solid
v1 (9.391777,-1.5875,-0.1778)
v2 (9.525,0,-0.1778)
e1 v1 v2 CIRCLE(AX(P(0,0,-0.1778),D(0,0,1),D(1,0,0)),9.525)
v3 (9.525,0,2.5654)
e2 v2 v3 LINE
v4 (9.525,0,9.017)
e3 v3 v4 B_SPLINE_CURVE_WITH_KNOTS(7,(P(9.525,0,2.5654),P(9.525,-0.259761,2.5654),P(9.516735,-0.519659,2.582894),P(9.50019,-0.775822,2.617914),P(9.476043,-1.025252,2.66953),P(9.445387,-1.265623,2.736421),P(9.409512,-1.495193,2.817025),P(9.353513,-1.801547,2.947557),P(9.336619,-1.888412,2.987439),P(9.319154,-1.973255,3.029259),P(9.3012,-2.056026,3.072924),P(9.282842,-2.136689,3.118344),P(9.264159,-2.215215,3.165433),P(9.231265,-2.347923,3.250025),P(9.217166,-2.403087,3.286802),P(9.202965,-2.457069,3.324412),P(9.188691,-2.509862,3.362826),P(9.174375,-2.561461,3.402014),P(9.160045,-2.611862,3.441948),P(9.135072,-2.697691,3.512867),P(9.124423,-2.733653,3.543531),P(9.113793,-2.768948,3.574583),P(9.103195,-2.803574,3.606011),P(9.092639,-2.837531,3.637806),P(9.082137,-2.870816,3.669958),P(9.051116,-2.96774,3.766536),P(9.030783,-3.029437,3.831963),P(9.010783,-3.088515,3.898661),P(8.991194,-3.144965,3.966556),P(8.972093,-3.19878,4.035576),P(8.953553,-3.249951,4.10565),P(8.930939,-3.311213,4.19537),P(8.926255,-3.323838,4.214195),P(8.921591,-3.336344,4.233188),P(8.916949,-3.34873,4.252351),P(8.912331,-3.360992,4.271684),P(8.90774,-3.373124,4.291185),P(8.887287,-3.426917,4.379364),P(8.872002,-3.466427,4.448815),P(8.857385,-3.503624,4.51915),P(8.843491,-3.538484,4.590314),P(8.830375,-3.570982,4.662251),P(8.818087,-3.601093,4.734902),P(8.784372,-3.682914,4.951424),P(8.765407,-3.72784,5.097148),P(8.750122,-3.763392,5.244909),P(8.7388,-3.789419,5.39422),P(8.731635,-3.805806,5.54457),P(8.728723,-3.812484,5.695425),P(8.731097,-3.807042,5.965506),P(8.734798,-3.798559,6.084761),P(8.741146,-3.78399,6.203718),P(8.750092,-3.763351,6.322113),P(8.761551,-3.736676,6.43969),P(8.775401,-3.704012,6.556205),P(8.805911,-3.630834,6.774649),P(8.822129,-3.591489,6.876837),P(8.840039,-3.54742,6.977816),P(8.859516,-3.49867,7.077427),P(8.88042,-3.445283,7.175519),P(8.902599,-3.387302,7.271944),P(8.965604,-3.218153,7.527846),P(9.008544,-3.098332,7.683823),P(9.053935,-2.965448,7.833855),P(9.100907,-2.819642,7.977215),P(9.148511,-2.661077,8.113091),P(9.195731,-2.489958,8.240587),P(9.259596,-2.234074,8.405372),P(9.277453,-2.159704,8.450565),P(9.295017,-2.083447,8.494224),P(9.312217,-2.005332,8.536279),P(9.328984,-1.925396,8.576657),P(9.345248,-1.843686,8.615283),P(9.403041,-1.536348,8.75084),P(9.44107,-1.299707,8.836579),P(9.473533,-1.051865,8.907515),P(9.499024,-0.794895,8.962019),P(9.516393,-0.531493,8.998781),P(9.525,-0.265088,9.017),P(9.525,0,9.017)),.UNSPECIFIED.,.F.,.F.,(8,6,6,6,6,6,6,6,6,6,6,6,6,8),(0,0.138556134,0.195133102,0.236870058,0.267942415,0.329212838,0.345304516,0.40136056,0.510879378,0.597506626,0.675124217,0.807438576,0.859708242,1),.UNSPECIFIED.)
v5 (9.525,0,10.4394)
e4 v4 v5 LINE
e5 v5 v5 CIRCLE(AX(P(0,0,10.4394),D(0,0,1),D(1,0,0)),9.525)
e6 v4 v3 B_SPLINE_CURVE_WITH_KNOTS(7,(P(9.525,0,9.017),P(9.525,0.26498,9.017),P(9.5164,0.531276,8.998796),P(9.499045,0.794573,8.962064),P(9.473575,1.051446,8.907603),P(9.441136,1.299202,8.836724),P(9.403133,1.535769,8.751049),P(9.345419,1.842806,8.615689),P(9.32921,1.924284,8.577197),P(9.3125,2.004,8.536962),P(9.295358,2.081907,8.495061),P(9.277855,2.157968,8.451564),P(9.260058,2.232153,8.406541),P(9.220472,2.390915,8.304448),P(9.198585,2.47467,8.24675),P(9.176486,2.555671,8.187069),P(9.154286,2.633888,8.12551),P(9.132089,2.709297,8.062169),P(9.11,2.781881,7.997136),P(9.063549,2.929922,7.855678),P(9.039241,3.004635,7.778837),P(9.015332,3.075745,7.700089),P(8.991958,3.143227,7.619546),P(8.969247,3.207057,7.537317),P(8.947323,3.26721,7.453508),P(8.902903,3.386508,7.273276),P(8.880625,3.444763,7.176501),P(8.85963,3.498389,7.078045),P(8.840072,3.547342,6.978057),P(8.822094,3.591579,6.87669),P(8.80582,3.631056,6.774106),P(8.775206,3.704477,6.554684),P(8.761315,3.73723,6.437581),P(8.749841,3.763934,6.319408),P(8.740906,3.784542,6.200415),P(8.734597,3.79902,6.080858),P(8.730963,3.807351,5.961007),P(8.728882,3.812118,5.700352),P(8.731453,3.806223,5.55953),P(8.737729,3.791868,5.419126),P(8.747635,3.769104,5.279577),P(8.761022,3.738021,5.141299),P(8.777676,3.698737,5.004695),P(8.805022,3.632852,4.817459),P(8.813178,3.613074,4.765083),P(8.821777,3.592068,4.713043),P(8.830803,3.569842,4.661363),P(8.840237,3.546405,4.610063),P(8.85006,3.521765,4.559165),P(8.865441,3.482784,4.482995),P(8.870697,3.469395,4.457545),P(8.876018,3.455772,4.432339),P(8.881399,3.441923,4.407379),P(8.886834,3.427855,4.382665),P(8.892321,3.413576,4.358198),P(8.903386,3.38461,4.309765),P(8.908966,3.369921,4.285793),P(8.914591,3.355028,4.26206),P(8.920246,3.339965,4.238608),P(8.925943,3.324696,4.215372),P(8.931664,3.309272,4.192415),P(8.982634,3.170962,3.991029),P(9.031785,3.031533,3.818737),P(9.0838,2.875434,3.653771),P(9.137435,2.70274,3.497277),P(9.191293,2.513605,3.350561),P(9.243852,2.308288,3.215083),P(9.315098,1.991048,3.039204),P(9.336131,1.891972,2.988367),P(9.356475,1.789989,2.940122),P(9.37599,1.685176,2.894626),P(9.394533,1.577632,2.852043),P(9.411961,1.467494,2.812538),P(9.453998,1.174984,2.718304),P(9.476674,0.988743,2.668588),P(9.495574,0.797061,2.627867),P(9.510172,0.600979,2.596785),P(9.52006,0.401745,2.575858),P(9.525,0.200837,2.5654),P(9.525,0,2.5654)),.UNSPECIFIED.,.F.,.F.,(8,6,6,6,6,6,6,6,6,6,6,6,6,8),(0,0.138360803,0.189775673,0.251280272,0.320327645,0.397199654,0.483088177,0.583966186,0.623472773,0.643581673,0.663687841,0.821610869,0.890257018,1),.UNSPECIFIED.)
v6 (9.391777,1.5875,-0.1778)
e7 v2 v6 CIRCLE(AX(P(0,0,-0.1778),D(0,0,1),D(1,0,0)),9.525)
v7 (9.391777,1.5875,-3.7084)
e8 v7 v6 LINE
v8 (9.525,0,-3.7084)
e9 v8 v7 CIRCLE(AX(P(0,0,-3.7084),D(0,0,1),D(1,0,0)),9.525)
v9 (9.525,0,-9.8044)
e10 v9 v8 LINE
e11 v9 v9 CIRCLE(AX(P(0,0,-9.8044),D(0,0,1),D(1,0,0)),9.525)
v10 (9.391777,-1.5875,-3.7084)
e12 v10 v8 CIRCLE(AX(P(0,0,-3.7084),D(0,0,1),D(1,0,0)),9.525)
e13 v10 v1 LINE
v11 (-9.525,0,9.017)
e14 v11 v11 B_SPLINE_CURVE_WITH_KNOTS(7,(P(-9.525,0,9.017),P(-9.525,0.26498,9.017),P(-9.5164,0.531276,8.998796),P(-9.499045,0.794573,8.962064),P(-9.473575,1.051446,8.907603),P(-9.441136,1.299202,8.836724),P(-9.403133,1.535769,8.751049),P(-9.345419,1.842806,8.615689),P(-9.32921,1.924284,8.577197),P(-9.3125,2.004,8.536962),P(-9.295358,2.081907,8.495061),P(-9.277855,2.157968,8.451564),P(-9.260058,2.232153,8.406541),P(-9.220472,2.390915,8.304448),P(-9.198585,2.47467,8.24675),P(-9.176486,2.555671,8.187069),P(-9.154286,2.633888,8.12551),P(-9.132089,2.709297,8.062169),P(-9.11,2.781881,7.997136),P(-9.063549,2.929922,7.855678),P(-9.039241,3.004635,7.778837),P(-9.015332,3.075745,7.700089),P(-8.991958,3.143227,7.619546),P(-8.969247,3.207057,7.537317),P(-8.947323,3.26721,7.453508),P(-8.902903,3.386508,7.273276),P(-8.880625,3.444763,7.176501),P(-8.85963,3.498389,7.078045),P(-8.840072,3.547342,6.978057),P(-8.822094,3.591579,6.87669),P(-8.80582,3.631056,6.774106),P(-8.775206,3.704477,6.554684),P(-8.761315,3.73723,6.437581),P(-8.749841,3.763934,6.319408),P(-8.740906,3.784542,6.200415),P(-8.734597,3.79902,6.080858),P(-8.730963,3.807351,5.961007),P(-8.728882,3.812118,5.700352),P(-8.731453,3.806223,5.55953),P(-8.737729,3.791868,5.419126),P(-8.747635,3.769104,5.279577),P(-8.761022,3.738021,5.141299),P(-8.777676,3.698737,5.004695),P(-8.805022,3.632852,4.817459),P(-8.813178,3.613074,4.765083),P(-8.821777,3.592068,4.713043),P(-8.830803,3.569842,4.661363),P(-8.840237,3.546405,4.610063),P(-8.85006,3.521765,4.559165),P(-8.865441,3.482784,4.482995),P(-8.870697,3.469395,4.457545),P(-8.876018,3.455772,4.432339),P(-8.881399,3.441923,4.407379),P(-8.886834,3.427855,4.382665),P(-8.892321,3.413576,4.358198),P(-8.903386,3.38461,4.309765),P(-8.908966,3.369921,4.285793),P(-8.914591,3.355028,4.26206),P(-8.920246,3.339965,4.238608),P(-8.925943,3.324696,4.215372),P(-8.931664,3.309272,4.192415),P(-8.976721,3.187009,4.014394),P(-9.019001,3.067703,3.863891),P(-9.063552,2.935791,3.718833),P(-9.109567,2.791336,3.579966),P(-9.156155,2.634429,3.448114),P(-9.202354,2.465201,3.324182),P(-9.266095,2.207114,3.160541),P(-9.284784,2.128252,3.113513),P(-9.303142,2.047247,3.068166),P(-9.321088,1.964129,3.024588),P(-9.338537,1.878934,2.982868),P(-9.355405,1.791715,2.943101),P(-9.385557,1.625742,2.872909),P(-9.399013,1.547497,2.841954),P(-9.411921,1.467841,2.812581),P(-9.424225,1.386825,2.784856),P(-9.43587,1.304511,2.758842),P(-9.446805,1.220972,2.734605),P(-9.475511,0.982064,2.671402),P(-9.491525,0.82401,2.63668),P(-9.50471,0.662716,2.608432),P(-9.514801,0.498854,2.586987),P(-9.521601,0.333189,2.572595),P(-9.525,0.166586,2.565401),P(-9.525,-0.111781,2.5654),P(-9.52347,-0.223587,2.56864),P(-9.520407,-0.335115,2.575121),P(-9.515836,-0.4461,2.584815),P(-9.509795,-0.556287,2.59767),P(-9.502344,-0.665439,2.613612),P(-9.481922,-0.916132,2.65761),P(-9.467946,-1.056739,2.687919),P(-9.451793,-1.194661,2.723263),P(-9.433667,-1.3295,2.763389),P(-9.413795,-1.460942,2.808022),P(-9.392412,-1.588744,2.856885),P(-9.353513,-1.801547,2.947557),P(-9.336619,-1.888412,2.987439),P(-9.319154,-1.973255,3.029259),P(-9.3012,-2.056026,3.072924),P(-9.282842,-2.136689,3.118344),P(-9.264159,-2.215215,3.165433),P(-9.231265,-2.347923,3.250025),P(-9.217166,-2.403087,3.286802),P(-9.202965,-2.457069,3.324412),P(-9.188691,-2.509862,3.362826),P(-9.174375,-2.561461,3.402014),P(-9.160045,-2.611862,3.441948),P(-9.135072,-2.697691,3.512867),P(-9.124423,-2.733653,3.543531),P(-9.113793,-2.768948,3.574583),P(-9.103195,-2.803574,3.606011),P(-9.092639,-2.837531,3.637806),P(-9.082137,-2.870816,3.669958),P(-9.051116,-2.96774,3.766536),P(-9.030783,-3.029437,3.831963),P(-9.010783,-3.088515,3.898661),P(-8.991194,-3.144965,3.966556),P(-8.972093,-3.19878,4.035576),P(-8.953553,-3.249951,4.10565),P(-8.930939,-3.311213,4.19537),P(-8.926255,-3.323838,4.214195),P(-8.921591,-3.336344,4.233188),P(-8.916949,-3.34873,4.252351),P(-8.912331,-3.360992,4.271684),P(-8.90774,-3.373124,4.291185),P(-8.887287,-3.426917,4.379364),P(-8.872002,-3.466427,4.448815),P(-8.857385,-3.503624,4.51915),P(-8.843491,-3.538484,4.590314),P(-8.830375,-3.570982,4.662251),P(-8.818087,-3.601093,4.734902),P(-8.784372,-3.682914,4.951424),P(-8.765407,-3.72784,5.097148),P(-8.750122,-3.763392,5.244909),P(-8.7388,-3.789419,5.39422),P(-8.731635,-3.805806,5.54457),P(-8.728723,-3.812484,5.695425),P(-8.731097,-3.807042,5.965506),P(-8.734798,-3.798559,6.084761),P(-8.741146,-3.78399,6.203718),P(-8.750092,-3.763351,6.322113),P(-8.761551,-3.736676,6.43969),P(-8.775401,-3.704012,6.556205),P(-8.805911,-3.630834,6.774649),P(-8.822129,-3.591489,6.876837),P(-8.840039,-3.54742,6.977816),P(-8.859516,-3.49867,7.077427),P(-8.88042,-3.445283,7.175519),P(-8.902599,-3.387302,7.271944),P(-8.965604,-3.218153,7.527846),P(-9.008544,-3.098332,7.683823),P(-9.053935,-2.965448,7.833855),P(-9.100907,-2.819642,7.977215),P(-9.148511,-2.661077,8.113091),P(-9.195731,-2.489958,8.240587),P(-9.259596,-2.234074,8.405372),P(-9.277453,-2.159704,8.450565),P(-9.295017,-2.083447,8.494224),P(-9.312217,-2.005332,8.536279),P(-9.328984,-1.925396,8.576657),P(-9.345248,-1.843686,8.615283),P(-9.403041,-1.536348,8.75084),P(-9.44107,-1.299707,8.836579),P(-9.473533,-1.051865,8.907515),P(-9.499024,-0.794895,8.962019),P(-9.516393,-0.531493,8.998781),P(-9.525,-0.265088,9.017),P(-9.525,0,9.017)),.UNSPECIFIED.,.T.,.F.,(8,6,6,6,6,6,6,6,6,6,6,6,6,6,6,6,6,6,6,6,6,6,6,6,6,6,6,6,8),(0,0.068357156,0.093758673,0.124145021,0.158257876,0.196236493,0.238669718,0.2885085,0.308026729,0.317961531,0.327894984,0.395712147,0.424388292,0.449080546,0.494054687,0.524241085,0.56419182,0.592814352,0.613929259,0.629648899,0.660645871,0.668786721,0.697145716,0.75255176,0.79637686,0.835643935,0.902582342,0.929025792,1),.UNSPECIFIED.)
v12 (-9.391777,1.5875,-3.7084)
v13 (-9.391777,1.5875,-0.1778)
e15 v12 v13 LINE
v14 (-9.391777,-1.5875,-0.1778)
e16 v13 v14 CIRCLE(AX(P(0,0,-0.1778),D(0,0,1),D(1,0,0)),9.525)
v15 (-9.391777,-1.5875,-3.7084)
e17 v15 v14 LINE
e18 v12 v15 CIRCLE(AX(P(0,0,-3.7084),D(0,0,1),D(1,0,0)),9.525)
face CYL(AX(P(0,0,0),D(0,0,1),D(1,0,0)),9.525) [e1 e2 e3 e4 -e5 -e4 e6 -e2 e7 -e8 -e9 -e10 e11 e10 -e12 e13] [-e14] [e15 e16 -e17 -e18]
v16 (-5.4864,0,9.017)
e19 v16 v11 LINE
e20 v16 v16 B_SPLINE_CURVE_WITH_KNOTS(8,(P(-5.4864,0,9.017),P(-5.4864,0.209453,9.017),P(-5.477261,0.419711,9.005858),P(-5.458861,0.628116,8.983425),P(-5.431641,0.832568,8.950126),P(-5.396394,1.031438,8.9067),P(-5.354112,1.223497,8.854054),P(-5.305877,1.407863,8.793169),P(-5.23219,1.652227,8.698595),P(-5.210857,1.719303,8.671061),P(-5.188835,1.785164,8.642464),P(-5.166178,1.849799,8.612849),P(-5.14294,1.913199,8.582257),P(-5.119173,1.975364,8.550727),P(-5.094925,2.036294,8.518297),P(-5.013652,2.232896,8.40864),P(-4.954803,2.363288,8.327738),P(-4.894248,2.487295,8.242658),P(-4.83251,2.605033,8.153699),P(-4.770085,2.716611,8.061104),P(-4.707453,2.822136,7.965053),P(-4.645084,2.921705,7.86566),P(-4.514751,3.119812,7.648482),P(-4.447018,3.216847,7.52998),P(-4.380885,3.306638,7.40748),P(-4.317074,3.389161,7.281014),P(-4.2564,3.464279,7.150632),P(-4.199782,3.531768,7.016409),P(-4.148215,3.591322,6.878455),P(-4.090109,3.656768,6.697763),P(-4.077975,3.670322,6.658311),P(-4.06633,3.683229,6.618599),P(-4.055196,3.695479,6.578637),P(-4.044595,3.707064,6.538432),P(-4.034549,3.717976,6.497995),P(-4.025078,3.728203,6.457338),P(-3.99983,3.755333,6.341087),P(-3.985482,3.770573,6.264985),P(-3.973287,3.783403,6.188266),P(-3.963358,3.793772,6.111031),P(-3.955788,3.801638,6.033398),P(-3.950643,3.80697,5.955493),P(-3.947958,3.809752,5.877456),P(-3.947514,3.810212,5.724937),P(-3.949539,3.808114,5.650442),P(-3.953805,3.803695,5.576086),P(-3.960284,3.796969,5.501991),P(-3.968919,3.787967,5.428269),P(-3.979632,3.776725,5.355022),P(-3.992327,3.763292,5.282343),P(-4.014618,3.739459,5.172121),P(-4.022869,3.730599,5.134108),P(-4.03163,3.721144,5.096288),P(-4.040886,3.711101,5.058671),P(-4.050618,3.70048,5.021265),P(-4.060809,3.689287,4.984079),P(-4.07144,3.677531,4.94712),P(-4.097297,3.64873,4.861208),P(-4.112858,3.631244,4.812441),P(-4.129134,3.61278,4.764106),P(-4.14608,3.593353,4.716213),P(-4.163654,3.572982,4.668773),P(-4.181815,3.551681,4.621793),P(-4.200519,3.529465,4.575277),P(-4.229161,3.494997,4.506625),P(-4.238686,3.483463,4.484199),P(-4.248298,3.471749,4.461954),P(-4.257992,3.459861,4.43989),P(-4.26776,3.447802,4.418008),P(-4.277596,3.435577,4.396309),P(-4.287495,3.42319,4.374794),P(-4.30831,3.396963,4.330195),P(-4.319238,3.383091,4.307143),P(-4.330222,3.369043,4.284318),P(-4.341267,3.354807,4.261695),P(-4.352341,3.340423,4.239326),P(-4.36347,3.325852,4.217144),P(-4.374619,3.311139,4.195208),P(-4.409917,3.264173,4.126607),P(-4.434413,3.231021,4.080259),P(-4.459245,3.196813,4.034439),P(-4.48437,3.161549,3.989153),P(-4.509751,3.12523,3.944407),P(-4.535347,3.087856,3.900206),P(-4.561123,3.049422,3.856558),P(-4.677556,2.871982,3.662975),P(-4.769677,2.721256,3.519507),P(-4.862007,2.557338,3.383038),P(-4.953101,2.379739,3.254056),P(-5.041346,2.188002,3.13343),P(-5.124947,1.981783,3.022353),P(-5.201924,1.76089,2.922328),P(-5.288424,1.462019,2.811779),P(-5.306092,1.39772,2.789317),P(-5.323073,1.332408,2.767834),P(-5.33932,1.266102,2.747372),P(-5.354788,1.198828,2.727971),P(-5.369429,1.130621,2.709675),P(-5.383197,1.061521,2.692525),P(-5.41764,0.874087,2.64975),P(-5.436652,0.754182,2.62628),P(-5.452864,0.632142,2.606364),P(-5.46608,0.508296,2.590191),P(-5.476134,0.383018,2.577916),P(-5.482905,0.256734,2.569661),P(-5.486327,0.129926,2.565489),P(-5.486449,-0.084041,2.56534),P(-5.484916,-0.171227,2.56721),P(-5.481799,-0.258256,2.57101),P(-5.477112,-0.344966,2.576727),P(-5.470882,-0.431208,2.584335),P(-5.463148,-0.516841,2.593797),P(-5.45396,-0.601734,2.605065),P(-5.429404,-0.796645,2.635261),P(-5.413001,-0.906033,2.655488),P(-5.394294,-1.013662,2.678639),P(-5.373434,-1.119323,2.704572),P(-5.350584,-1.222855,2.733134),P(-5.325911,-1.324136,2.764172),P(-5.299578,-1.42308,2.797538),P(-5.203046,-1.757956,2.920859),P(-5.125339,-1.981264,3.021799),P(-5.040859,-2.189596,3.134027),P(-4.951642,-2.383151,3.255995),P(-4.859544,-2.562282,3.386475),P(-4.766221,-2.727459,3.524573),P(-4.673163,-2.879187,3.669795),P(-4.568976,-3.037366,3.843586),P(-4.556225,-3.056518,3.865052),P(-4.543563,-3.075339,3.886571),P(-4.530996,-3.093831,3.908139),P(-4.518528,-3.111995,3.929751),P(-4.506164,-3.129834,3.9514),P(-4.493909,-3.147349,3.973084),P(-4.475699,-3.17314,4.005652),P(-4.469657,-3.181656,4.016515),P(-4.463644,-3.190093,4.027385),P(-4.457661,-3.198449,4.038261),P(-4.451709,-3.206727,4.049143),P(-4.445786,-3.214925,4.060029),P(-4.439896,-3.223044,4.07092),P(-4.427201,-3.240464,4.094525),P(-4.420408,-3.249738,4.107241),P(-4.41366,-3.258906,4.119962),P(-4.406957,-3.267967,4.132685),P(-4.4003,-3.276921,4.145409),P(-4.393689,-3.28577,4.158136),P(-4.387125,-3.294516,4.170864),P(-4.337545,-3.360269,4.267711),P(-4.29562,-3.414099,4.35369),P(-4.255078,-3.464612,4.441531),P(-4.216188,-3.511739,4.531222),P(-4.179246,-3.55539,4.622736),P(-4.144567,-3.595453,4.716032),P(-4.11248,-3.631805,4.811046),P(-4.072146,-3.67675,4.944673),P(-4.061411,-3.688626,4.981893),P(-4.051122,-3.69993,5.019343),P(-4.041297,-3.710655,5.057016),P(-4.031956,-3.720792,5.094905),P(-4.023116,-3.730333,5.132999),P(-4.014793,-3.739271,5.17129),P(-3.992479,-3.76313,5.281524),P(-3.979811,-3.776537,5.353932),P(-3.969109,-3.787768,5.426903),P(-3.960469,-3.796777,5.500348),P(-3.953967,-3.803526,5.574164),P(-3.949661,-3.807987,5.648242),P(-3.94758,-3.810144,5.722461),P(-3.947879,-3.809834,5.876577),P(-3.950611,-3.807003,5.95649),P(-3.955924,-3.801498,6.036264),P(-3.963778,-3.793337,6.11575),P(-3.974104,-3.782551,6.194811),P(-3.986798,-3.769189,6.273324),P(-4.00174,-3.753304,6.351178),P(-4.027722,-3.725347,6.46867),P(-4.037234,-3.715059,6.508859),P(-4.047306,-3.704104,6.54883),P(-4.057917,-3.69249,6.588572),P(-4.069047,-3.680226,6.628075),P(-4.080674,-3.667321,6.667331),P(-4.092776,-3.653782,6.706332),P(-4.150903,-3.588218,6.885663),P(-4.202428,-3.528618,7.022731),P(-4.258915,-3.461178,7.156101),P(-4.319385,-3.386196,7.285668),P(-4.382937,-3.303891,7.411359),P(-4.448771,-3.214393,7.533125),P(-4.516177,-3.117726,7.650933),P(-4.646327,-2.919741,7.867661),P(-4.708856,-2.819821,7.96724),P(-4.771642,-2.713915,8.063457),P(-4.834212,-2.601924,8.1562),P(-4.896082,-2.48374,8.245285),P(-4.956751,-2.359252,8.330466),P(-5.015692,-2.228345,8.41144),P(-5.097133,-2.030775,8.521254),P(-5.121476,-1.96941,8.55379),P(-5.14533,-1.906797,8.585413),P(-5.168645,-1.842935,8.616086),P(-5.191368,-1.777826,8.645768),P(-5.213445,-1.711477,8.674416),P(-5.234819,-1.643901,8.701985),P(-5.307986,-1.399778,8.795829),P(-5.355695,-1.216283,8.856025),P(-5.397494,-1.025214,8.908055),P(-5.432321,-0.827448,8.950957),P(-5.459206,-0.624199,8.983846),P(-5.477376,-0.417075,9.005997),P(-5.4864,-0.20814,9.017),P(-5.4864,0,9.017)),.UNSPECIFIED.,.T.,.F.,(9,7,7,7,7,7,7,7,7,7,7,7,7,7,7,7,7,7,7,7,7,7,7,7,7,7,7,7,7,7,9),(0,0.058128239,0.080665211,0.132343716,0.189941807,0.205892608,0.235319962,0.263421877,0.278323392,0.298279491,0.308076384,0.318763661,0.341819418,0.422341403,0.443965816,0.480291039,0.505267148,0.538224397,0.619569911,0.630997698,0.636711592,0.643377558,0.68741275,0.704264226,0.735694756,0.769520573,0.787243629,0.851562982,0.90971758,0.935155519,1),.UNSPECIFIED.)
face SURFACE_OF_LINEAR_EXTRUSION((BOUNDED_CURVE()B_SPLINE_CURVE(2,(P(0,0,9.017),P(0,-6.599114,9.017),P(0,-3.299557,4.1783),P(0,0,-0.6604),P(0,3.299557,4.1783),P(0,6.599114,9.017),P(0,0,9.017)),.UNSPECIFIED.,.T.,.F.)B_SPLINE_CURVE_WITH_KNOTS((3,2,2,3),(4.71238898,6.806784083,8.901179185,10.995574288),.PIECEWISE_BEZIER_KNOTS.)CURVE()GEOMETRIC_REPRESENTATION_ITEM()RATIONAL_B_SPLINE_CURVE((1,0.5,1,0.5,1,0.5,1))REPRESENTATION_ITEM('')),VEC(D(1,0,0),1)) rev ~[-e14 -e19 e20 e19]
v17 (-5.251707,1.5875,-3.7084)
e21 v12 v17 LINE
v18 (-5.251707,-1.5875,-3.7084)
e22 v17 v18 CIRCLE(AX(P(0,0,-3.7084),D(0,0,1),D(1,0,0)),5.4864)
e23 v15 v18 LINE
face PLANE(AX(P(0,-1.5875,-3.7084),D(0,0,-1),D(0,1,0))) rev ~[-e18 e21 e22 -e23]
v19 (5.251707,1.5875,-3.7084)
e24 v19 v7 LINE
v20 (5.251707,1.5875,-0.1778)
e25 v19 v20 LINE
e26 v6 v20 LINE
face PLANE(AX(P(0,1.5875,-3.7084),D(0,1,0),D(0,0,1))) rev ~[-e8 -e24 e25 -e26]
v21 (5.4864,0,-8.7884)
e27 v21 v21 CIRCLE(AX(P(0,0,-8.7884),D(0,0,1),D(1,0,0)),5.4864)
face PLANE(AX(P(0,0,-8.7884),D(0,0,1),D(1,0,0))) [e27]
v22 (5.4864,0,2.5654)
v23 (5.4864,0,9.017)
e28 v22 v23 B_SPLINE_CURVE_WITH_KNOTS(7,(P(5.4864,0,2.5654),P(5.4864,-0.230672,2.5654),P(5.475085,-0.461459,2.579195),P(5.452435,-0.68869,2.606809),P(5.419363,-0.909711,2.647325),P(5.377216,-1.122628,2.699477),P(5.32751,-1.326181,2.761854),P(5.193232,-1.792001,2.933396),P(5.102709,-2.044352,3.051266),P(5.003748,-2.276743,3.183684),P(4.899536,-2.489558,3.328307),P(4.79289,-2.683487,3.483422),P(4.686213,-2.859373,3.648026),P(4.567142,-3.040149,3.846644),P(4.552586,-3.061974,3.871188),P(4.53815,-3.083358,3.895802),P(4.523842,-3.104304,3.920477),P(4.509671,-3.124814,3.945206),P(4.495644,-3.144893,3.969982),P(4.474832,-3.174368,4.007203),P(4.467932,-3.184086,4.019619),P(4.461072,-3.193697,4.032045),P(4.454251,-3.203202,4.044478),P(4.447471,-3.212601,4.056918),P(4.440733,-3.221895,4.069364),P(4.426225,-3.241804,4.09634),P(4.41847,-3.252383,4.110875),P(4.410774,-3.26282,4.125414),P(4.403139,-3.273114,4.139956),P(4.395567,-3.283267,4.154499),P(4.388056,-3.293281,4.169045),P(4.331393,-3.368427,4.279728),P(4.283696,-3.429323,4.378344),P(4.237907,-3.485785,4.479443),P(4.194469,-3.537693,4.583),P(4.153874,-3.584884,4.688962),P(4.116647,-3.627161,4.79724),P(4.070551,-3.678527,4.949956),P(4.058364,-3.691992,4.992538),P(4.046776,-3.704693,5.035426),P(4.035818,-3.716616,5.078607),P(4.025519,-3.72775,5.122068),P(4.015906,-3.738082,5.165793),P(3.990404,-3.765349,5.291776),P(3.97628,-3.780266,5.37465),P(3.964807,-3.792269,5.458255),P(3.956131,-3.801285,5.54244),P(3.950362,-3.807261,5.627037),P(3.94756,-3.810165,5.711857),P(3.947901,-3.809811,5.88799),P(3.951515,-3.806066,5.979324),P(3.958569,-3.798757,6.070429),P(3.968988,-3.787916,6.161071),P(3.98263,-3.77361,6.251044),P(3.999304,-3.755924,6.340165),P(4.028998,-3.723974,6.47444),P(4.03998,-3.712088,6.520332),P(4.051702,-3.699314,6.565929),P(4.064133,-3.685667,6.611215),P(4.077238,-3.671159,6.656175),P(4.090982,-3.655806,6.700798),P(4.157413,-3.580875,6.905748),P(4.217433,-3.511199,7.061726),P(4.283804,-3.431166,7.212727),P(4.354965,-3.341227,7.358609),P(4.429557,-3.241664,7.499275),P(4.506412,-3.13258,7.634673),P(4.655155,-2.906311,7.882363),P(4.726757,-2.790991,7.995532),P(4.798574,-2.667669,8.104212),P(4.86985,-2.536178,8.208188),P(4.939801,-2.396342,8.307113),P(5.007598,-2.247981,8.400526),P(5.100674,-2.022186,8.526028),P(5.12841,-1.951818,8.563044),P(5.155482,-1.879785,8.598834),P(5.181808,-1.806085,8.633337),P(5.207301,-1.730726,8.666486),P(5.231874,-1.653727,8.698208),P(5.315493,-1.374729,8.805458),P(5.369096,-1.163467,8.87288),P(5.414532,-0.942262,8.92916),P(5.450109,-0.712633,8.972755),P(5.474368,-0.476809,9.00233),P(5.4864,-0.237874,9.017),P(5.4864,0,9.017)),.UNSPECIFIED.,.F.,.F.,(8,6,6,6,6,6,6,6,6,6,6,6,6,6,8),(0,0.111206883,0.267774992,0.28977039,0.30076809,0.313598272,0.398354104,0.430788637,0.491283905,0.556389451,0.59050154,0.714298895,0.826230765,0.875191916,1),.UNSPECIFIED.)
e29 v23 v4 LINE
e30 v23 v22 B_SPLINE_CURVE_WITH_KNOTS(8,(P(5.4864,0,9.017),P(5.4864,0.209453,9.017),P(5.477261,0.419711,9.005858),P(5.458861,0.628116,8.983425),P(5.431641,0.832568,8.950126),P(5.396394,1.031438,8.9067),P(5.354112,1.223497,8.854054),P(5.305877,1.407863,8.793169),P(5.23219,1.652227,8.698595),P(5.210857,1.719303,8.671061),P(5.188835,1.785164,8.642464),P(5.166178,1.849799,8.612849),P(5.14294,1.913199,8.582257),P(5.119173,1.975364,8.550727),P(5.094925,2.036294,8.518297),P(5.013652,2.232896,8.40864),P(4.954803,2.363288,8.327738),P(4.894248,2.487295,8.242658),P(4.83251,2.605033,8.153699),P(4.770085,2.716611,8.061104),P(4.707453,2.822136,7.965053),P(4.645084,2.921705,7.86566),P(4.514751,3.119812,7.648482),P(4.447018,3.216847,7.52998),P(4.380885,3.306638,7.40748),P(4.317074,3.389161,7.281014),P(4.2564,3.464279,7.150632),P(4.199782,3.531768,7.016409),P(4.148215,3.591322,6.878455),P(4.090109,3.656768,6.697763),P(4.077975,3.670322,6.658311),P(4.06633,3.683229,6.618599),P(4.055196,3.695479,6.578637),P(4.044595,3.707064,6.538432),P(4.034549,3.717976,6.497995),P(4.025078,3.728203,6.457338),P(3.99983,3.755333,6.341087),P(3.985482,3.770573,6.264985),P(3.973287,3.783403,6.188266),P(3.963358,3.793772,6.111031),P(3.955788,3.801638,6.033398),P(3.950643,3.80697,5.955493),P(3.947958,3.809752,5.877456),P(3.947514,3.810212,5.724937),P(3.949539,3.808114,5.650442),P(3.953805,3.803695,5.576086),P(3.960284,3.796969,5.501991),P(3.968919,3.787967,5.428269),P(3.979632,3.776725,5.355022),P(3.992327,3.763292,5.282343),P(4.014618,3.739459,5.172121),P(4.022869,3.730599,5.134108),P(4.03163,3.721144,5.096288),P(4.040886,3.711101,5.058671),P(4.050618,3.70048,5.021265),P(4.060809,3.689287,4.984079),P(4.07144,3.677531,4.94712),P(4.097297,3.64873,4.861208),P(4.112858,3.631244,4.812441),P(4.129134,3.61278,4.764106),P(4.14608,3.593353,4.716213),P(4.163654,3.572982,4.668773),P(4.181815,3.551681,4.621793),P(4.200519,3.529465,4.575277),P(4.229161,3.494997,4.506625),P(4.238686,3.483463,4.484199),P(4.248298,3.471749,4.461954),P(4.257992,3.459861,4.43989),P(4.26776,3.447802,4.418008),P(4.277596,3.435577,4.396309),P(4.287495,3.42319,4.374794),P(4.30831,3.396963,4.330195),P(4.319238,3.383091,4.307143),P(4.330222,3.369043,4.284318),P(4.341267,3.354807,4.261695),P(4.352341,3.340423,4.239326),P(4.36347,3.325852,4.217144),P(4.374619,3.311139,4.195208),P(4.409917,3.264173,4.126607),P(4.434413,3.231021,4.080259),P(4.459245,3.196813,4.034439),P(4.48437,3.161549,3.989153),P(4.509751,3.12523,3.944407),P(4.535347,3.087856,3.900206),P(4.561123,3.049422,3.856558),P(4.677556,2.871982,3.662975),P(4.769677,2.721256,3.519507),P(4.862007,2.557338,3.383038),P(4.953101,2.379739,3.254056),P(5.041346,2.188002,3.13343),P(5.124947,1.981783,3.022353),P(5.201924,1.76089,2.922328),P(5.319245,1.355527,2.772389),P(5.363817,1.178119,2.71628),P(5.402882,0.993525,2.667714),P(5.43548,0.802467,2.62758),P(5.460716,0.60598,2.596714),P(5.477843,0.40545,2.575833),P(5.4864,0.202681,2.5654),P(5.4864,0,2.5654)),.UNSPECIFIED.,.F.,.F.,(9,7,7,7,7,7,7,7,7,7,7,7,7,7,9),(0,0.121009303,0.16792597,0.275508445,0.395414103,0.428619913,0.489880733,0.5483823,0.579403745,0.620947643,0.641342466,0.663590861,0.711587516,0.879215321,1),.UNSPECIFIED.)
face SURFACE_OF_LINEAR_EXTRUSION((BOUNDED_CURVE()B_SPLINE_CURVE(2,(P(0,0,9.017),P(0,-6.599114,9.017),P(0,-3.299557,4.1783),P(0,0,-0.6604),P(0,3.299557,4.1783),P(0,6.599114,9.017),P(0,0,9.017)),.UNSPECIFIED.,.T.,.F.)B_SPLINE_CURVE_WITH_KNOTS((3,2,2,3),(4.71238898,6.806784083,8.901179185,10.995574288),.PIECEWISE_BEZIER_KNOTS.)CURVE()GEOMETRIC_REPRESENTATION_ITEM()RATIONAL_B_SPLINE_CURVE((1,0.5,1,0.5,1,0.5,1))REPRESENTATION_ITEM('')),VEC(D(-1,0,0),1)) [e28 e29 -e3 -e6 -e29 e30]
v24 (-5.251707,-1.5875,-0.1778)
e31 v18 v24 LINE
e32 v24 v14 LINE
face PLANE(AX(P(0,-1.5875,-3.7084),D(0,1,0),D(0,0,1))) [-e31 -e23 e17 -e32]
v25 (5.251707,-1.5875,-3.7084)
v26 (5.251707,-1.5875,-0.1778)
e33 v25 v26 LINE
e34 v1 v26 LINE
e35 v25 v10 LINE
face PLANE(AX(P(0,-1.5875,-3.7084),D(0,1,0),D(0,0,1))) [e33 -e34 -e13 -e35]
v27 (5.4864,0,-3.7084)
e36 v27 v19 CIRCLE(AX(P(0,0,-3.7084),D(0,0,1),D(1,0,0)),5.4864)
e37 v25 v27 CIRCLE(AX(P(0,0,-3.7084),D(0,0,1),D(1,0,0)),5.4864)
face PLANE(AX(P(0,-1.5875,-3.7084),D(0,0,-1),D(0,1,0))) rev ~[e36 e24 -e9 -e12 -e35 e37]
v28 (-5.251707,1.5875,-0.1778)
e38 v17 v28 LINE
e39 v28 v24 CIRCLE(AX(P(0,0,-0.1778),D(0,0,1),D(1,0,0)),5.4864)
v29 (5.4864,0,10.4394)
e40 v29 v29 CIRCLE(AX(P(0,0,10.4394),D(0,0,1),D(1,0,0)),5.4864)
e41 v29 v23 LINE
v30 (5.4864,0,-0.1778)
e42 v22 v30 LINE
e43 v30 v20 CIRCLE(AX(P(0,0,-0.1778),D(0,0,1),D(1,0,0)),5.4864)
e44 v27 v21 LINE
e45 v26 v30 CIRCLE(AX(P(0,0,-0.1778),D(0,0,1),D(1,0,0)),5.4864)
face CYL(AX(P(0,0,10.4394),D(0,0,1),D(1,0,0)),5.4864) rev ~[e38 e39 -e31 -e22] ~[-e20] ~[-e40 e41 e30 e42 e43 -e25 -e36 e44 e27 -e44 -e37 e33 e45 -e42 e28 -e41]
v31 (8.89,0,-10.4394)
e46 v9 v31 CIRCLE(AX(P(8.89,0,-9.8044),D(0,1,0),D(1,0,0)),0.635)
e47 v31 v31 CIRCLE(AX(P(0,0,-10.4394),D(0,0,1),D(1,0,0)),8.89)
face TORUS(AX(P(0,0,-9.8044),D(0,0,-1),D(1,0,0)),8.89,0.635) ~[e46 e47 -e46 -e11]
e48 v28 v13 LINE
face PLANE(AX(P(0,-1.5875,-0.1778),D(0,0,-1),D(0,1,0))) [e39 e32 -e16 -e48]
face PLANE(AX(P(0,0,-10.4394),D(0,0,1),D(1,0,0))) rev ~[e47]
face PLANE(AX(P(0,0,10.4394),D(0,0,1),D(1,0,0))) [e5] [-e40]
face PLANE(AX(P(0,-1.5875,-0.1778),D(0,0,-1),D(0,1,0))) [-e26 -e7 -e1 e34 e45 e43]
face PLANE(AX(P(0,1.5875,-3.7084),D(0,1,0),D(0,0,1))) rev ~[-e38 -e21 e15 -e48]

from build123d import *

# Parameters (mm, degrees)
F0_R     = 9.525
F1_DEPTH = 10.4394
F2_R     = 5.4864
F3_DEPTH = 19.2278
F4_W     = 3.175
F4_H     = 3.5306
F5_DEPTH = 12.7
F7_DEPTH = 12.7
F8_R     = 0.635


with BuildPart() as f1:
    # F0 (on Top) → F1 (new body, symmetric)
    with BuildSketch(Plane.XY):
        Circle(F0_R)
    extrude(amount=F1_DEPTH, both=True)

    # F2 (on face) → F3 (cut)
    with BuildSketch(Plane.XY.offset(10.4394)):
        Circle(F2_R)
    extrude(amount=-F3_DEPTH, mode=Mode.SUBTRACT)

    # F4 (on Right) → F5 (cut, symmetric)
    with BuildSketch(Plane.YZ):
        with Locations((0, -1.9431)):
            Rectangle(F4_W, F4_H)
    extrude(amount=F5_DEPTH, both=True, mode=Mode.SUBTRACT)

    # F6 (on Right) → F7 (cut, symmetric)
    with BuildSketch(Plane.YZ):
        with BuildLine():
            add(Edge.make_bspline(
                [(0, 9.017), (-6.5991135768, 9.017), (-3.2995567884, 4.1783), (0, -0.6604), (3.2995567884, 4.1783), (6.5991135768, 9.017), (0, 9.017)],
                knots=[4.7123889804, 4.7123889804, 4.7123889804, 6.8067840828, 6.8067840828, 8.9011791852, 8.9011791852, 10.9955742876, 10.9955742876, 10.9955742876], degree=2, weights=[1, 0.5, 1, 0.5, 1, 0.5, 1]))
        make_face()
    extrude(amount=F7_DEPTH, both=True, mode=Mode.SUBTRACT)

    # F8
    f8_edges = [f1.edges().sort_by_distance(p)[0] for p in [
        (-9.525, 0, -10.4394),
    ]]
    fillet(f8_edges, radius=F8_R)


solid = f1.part
